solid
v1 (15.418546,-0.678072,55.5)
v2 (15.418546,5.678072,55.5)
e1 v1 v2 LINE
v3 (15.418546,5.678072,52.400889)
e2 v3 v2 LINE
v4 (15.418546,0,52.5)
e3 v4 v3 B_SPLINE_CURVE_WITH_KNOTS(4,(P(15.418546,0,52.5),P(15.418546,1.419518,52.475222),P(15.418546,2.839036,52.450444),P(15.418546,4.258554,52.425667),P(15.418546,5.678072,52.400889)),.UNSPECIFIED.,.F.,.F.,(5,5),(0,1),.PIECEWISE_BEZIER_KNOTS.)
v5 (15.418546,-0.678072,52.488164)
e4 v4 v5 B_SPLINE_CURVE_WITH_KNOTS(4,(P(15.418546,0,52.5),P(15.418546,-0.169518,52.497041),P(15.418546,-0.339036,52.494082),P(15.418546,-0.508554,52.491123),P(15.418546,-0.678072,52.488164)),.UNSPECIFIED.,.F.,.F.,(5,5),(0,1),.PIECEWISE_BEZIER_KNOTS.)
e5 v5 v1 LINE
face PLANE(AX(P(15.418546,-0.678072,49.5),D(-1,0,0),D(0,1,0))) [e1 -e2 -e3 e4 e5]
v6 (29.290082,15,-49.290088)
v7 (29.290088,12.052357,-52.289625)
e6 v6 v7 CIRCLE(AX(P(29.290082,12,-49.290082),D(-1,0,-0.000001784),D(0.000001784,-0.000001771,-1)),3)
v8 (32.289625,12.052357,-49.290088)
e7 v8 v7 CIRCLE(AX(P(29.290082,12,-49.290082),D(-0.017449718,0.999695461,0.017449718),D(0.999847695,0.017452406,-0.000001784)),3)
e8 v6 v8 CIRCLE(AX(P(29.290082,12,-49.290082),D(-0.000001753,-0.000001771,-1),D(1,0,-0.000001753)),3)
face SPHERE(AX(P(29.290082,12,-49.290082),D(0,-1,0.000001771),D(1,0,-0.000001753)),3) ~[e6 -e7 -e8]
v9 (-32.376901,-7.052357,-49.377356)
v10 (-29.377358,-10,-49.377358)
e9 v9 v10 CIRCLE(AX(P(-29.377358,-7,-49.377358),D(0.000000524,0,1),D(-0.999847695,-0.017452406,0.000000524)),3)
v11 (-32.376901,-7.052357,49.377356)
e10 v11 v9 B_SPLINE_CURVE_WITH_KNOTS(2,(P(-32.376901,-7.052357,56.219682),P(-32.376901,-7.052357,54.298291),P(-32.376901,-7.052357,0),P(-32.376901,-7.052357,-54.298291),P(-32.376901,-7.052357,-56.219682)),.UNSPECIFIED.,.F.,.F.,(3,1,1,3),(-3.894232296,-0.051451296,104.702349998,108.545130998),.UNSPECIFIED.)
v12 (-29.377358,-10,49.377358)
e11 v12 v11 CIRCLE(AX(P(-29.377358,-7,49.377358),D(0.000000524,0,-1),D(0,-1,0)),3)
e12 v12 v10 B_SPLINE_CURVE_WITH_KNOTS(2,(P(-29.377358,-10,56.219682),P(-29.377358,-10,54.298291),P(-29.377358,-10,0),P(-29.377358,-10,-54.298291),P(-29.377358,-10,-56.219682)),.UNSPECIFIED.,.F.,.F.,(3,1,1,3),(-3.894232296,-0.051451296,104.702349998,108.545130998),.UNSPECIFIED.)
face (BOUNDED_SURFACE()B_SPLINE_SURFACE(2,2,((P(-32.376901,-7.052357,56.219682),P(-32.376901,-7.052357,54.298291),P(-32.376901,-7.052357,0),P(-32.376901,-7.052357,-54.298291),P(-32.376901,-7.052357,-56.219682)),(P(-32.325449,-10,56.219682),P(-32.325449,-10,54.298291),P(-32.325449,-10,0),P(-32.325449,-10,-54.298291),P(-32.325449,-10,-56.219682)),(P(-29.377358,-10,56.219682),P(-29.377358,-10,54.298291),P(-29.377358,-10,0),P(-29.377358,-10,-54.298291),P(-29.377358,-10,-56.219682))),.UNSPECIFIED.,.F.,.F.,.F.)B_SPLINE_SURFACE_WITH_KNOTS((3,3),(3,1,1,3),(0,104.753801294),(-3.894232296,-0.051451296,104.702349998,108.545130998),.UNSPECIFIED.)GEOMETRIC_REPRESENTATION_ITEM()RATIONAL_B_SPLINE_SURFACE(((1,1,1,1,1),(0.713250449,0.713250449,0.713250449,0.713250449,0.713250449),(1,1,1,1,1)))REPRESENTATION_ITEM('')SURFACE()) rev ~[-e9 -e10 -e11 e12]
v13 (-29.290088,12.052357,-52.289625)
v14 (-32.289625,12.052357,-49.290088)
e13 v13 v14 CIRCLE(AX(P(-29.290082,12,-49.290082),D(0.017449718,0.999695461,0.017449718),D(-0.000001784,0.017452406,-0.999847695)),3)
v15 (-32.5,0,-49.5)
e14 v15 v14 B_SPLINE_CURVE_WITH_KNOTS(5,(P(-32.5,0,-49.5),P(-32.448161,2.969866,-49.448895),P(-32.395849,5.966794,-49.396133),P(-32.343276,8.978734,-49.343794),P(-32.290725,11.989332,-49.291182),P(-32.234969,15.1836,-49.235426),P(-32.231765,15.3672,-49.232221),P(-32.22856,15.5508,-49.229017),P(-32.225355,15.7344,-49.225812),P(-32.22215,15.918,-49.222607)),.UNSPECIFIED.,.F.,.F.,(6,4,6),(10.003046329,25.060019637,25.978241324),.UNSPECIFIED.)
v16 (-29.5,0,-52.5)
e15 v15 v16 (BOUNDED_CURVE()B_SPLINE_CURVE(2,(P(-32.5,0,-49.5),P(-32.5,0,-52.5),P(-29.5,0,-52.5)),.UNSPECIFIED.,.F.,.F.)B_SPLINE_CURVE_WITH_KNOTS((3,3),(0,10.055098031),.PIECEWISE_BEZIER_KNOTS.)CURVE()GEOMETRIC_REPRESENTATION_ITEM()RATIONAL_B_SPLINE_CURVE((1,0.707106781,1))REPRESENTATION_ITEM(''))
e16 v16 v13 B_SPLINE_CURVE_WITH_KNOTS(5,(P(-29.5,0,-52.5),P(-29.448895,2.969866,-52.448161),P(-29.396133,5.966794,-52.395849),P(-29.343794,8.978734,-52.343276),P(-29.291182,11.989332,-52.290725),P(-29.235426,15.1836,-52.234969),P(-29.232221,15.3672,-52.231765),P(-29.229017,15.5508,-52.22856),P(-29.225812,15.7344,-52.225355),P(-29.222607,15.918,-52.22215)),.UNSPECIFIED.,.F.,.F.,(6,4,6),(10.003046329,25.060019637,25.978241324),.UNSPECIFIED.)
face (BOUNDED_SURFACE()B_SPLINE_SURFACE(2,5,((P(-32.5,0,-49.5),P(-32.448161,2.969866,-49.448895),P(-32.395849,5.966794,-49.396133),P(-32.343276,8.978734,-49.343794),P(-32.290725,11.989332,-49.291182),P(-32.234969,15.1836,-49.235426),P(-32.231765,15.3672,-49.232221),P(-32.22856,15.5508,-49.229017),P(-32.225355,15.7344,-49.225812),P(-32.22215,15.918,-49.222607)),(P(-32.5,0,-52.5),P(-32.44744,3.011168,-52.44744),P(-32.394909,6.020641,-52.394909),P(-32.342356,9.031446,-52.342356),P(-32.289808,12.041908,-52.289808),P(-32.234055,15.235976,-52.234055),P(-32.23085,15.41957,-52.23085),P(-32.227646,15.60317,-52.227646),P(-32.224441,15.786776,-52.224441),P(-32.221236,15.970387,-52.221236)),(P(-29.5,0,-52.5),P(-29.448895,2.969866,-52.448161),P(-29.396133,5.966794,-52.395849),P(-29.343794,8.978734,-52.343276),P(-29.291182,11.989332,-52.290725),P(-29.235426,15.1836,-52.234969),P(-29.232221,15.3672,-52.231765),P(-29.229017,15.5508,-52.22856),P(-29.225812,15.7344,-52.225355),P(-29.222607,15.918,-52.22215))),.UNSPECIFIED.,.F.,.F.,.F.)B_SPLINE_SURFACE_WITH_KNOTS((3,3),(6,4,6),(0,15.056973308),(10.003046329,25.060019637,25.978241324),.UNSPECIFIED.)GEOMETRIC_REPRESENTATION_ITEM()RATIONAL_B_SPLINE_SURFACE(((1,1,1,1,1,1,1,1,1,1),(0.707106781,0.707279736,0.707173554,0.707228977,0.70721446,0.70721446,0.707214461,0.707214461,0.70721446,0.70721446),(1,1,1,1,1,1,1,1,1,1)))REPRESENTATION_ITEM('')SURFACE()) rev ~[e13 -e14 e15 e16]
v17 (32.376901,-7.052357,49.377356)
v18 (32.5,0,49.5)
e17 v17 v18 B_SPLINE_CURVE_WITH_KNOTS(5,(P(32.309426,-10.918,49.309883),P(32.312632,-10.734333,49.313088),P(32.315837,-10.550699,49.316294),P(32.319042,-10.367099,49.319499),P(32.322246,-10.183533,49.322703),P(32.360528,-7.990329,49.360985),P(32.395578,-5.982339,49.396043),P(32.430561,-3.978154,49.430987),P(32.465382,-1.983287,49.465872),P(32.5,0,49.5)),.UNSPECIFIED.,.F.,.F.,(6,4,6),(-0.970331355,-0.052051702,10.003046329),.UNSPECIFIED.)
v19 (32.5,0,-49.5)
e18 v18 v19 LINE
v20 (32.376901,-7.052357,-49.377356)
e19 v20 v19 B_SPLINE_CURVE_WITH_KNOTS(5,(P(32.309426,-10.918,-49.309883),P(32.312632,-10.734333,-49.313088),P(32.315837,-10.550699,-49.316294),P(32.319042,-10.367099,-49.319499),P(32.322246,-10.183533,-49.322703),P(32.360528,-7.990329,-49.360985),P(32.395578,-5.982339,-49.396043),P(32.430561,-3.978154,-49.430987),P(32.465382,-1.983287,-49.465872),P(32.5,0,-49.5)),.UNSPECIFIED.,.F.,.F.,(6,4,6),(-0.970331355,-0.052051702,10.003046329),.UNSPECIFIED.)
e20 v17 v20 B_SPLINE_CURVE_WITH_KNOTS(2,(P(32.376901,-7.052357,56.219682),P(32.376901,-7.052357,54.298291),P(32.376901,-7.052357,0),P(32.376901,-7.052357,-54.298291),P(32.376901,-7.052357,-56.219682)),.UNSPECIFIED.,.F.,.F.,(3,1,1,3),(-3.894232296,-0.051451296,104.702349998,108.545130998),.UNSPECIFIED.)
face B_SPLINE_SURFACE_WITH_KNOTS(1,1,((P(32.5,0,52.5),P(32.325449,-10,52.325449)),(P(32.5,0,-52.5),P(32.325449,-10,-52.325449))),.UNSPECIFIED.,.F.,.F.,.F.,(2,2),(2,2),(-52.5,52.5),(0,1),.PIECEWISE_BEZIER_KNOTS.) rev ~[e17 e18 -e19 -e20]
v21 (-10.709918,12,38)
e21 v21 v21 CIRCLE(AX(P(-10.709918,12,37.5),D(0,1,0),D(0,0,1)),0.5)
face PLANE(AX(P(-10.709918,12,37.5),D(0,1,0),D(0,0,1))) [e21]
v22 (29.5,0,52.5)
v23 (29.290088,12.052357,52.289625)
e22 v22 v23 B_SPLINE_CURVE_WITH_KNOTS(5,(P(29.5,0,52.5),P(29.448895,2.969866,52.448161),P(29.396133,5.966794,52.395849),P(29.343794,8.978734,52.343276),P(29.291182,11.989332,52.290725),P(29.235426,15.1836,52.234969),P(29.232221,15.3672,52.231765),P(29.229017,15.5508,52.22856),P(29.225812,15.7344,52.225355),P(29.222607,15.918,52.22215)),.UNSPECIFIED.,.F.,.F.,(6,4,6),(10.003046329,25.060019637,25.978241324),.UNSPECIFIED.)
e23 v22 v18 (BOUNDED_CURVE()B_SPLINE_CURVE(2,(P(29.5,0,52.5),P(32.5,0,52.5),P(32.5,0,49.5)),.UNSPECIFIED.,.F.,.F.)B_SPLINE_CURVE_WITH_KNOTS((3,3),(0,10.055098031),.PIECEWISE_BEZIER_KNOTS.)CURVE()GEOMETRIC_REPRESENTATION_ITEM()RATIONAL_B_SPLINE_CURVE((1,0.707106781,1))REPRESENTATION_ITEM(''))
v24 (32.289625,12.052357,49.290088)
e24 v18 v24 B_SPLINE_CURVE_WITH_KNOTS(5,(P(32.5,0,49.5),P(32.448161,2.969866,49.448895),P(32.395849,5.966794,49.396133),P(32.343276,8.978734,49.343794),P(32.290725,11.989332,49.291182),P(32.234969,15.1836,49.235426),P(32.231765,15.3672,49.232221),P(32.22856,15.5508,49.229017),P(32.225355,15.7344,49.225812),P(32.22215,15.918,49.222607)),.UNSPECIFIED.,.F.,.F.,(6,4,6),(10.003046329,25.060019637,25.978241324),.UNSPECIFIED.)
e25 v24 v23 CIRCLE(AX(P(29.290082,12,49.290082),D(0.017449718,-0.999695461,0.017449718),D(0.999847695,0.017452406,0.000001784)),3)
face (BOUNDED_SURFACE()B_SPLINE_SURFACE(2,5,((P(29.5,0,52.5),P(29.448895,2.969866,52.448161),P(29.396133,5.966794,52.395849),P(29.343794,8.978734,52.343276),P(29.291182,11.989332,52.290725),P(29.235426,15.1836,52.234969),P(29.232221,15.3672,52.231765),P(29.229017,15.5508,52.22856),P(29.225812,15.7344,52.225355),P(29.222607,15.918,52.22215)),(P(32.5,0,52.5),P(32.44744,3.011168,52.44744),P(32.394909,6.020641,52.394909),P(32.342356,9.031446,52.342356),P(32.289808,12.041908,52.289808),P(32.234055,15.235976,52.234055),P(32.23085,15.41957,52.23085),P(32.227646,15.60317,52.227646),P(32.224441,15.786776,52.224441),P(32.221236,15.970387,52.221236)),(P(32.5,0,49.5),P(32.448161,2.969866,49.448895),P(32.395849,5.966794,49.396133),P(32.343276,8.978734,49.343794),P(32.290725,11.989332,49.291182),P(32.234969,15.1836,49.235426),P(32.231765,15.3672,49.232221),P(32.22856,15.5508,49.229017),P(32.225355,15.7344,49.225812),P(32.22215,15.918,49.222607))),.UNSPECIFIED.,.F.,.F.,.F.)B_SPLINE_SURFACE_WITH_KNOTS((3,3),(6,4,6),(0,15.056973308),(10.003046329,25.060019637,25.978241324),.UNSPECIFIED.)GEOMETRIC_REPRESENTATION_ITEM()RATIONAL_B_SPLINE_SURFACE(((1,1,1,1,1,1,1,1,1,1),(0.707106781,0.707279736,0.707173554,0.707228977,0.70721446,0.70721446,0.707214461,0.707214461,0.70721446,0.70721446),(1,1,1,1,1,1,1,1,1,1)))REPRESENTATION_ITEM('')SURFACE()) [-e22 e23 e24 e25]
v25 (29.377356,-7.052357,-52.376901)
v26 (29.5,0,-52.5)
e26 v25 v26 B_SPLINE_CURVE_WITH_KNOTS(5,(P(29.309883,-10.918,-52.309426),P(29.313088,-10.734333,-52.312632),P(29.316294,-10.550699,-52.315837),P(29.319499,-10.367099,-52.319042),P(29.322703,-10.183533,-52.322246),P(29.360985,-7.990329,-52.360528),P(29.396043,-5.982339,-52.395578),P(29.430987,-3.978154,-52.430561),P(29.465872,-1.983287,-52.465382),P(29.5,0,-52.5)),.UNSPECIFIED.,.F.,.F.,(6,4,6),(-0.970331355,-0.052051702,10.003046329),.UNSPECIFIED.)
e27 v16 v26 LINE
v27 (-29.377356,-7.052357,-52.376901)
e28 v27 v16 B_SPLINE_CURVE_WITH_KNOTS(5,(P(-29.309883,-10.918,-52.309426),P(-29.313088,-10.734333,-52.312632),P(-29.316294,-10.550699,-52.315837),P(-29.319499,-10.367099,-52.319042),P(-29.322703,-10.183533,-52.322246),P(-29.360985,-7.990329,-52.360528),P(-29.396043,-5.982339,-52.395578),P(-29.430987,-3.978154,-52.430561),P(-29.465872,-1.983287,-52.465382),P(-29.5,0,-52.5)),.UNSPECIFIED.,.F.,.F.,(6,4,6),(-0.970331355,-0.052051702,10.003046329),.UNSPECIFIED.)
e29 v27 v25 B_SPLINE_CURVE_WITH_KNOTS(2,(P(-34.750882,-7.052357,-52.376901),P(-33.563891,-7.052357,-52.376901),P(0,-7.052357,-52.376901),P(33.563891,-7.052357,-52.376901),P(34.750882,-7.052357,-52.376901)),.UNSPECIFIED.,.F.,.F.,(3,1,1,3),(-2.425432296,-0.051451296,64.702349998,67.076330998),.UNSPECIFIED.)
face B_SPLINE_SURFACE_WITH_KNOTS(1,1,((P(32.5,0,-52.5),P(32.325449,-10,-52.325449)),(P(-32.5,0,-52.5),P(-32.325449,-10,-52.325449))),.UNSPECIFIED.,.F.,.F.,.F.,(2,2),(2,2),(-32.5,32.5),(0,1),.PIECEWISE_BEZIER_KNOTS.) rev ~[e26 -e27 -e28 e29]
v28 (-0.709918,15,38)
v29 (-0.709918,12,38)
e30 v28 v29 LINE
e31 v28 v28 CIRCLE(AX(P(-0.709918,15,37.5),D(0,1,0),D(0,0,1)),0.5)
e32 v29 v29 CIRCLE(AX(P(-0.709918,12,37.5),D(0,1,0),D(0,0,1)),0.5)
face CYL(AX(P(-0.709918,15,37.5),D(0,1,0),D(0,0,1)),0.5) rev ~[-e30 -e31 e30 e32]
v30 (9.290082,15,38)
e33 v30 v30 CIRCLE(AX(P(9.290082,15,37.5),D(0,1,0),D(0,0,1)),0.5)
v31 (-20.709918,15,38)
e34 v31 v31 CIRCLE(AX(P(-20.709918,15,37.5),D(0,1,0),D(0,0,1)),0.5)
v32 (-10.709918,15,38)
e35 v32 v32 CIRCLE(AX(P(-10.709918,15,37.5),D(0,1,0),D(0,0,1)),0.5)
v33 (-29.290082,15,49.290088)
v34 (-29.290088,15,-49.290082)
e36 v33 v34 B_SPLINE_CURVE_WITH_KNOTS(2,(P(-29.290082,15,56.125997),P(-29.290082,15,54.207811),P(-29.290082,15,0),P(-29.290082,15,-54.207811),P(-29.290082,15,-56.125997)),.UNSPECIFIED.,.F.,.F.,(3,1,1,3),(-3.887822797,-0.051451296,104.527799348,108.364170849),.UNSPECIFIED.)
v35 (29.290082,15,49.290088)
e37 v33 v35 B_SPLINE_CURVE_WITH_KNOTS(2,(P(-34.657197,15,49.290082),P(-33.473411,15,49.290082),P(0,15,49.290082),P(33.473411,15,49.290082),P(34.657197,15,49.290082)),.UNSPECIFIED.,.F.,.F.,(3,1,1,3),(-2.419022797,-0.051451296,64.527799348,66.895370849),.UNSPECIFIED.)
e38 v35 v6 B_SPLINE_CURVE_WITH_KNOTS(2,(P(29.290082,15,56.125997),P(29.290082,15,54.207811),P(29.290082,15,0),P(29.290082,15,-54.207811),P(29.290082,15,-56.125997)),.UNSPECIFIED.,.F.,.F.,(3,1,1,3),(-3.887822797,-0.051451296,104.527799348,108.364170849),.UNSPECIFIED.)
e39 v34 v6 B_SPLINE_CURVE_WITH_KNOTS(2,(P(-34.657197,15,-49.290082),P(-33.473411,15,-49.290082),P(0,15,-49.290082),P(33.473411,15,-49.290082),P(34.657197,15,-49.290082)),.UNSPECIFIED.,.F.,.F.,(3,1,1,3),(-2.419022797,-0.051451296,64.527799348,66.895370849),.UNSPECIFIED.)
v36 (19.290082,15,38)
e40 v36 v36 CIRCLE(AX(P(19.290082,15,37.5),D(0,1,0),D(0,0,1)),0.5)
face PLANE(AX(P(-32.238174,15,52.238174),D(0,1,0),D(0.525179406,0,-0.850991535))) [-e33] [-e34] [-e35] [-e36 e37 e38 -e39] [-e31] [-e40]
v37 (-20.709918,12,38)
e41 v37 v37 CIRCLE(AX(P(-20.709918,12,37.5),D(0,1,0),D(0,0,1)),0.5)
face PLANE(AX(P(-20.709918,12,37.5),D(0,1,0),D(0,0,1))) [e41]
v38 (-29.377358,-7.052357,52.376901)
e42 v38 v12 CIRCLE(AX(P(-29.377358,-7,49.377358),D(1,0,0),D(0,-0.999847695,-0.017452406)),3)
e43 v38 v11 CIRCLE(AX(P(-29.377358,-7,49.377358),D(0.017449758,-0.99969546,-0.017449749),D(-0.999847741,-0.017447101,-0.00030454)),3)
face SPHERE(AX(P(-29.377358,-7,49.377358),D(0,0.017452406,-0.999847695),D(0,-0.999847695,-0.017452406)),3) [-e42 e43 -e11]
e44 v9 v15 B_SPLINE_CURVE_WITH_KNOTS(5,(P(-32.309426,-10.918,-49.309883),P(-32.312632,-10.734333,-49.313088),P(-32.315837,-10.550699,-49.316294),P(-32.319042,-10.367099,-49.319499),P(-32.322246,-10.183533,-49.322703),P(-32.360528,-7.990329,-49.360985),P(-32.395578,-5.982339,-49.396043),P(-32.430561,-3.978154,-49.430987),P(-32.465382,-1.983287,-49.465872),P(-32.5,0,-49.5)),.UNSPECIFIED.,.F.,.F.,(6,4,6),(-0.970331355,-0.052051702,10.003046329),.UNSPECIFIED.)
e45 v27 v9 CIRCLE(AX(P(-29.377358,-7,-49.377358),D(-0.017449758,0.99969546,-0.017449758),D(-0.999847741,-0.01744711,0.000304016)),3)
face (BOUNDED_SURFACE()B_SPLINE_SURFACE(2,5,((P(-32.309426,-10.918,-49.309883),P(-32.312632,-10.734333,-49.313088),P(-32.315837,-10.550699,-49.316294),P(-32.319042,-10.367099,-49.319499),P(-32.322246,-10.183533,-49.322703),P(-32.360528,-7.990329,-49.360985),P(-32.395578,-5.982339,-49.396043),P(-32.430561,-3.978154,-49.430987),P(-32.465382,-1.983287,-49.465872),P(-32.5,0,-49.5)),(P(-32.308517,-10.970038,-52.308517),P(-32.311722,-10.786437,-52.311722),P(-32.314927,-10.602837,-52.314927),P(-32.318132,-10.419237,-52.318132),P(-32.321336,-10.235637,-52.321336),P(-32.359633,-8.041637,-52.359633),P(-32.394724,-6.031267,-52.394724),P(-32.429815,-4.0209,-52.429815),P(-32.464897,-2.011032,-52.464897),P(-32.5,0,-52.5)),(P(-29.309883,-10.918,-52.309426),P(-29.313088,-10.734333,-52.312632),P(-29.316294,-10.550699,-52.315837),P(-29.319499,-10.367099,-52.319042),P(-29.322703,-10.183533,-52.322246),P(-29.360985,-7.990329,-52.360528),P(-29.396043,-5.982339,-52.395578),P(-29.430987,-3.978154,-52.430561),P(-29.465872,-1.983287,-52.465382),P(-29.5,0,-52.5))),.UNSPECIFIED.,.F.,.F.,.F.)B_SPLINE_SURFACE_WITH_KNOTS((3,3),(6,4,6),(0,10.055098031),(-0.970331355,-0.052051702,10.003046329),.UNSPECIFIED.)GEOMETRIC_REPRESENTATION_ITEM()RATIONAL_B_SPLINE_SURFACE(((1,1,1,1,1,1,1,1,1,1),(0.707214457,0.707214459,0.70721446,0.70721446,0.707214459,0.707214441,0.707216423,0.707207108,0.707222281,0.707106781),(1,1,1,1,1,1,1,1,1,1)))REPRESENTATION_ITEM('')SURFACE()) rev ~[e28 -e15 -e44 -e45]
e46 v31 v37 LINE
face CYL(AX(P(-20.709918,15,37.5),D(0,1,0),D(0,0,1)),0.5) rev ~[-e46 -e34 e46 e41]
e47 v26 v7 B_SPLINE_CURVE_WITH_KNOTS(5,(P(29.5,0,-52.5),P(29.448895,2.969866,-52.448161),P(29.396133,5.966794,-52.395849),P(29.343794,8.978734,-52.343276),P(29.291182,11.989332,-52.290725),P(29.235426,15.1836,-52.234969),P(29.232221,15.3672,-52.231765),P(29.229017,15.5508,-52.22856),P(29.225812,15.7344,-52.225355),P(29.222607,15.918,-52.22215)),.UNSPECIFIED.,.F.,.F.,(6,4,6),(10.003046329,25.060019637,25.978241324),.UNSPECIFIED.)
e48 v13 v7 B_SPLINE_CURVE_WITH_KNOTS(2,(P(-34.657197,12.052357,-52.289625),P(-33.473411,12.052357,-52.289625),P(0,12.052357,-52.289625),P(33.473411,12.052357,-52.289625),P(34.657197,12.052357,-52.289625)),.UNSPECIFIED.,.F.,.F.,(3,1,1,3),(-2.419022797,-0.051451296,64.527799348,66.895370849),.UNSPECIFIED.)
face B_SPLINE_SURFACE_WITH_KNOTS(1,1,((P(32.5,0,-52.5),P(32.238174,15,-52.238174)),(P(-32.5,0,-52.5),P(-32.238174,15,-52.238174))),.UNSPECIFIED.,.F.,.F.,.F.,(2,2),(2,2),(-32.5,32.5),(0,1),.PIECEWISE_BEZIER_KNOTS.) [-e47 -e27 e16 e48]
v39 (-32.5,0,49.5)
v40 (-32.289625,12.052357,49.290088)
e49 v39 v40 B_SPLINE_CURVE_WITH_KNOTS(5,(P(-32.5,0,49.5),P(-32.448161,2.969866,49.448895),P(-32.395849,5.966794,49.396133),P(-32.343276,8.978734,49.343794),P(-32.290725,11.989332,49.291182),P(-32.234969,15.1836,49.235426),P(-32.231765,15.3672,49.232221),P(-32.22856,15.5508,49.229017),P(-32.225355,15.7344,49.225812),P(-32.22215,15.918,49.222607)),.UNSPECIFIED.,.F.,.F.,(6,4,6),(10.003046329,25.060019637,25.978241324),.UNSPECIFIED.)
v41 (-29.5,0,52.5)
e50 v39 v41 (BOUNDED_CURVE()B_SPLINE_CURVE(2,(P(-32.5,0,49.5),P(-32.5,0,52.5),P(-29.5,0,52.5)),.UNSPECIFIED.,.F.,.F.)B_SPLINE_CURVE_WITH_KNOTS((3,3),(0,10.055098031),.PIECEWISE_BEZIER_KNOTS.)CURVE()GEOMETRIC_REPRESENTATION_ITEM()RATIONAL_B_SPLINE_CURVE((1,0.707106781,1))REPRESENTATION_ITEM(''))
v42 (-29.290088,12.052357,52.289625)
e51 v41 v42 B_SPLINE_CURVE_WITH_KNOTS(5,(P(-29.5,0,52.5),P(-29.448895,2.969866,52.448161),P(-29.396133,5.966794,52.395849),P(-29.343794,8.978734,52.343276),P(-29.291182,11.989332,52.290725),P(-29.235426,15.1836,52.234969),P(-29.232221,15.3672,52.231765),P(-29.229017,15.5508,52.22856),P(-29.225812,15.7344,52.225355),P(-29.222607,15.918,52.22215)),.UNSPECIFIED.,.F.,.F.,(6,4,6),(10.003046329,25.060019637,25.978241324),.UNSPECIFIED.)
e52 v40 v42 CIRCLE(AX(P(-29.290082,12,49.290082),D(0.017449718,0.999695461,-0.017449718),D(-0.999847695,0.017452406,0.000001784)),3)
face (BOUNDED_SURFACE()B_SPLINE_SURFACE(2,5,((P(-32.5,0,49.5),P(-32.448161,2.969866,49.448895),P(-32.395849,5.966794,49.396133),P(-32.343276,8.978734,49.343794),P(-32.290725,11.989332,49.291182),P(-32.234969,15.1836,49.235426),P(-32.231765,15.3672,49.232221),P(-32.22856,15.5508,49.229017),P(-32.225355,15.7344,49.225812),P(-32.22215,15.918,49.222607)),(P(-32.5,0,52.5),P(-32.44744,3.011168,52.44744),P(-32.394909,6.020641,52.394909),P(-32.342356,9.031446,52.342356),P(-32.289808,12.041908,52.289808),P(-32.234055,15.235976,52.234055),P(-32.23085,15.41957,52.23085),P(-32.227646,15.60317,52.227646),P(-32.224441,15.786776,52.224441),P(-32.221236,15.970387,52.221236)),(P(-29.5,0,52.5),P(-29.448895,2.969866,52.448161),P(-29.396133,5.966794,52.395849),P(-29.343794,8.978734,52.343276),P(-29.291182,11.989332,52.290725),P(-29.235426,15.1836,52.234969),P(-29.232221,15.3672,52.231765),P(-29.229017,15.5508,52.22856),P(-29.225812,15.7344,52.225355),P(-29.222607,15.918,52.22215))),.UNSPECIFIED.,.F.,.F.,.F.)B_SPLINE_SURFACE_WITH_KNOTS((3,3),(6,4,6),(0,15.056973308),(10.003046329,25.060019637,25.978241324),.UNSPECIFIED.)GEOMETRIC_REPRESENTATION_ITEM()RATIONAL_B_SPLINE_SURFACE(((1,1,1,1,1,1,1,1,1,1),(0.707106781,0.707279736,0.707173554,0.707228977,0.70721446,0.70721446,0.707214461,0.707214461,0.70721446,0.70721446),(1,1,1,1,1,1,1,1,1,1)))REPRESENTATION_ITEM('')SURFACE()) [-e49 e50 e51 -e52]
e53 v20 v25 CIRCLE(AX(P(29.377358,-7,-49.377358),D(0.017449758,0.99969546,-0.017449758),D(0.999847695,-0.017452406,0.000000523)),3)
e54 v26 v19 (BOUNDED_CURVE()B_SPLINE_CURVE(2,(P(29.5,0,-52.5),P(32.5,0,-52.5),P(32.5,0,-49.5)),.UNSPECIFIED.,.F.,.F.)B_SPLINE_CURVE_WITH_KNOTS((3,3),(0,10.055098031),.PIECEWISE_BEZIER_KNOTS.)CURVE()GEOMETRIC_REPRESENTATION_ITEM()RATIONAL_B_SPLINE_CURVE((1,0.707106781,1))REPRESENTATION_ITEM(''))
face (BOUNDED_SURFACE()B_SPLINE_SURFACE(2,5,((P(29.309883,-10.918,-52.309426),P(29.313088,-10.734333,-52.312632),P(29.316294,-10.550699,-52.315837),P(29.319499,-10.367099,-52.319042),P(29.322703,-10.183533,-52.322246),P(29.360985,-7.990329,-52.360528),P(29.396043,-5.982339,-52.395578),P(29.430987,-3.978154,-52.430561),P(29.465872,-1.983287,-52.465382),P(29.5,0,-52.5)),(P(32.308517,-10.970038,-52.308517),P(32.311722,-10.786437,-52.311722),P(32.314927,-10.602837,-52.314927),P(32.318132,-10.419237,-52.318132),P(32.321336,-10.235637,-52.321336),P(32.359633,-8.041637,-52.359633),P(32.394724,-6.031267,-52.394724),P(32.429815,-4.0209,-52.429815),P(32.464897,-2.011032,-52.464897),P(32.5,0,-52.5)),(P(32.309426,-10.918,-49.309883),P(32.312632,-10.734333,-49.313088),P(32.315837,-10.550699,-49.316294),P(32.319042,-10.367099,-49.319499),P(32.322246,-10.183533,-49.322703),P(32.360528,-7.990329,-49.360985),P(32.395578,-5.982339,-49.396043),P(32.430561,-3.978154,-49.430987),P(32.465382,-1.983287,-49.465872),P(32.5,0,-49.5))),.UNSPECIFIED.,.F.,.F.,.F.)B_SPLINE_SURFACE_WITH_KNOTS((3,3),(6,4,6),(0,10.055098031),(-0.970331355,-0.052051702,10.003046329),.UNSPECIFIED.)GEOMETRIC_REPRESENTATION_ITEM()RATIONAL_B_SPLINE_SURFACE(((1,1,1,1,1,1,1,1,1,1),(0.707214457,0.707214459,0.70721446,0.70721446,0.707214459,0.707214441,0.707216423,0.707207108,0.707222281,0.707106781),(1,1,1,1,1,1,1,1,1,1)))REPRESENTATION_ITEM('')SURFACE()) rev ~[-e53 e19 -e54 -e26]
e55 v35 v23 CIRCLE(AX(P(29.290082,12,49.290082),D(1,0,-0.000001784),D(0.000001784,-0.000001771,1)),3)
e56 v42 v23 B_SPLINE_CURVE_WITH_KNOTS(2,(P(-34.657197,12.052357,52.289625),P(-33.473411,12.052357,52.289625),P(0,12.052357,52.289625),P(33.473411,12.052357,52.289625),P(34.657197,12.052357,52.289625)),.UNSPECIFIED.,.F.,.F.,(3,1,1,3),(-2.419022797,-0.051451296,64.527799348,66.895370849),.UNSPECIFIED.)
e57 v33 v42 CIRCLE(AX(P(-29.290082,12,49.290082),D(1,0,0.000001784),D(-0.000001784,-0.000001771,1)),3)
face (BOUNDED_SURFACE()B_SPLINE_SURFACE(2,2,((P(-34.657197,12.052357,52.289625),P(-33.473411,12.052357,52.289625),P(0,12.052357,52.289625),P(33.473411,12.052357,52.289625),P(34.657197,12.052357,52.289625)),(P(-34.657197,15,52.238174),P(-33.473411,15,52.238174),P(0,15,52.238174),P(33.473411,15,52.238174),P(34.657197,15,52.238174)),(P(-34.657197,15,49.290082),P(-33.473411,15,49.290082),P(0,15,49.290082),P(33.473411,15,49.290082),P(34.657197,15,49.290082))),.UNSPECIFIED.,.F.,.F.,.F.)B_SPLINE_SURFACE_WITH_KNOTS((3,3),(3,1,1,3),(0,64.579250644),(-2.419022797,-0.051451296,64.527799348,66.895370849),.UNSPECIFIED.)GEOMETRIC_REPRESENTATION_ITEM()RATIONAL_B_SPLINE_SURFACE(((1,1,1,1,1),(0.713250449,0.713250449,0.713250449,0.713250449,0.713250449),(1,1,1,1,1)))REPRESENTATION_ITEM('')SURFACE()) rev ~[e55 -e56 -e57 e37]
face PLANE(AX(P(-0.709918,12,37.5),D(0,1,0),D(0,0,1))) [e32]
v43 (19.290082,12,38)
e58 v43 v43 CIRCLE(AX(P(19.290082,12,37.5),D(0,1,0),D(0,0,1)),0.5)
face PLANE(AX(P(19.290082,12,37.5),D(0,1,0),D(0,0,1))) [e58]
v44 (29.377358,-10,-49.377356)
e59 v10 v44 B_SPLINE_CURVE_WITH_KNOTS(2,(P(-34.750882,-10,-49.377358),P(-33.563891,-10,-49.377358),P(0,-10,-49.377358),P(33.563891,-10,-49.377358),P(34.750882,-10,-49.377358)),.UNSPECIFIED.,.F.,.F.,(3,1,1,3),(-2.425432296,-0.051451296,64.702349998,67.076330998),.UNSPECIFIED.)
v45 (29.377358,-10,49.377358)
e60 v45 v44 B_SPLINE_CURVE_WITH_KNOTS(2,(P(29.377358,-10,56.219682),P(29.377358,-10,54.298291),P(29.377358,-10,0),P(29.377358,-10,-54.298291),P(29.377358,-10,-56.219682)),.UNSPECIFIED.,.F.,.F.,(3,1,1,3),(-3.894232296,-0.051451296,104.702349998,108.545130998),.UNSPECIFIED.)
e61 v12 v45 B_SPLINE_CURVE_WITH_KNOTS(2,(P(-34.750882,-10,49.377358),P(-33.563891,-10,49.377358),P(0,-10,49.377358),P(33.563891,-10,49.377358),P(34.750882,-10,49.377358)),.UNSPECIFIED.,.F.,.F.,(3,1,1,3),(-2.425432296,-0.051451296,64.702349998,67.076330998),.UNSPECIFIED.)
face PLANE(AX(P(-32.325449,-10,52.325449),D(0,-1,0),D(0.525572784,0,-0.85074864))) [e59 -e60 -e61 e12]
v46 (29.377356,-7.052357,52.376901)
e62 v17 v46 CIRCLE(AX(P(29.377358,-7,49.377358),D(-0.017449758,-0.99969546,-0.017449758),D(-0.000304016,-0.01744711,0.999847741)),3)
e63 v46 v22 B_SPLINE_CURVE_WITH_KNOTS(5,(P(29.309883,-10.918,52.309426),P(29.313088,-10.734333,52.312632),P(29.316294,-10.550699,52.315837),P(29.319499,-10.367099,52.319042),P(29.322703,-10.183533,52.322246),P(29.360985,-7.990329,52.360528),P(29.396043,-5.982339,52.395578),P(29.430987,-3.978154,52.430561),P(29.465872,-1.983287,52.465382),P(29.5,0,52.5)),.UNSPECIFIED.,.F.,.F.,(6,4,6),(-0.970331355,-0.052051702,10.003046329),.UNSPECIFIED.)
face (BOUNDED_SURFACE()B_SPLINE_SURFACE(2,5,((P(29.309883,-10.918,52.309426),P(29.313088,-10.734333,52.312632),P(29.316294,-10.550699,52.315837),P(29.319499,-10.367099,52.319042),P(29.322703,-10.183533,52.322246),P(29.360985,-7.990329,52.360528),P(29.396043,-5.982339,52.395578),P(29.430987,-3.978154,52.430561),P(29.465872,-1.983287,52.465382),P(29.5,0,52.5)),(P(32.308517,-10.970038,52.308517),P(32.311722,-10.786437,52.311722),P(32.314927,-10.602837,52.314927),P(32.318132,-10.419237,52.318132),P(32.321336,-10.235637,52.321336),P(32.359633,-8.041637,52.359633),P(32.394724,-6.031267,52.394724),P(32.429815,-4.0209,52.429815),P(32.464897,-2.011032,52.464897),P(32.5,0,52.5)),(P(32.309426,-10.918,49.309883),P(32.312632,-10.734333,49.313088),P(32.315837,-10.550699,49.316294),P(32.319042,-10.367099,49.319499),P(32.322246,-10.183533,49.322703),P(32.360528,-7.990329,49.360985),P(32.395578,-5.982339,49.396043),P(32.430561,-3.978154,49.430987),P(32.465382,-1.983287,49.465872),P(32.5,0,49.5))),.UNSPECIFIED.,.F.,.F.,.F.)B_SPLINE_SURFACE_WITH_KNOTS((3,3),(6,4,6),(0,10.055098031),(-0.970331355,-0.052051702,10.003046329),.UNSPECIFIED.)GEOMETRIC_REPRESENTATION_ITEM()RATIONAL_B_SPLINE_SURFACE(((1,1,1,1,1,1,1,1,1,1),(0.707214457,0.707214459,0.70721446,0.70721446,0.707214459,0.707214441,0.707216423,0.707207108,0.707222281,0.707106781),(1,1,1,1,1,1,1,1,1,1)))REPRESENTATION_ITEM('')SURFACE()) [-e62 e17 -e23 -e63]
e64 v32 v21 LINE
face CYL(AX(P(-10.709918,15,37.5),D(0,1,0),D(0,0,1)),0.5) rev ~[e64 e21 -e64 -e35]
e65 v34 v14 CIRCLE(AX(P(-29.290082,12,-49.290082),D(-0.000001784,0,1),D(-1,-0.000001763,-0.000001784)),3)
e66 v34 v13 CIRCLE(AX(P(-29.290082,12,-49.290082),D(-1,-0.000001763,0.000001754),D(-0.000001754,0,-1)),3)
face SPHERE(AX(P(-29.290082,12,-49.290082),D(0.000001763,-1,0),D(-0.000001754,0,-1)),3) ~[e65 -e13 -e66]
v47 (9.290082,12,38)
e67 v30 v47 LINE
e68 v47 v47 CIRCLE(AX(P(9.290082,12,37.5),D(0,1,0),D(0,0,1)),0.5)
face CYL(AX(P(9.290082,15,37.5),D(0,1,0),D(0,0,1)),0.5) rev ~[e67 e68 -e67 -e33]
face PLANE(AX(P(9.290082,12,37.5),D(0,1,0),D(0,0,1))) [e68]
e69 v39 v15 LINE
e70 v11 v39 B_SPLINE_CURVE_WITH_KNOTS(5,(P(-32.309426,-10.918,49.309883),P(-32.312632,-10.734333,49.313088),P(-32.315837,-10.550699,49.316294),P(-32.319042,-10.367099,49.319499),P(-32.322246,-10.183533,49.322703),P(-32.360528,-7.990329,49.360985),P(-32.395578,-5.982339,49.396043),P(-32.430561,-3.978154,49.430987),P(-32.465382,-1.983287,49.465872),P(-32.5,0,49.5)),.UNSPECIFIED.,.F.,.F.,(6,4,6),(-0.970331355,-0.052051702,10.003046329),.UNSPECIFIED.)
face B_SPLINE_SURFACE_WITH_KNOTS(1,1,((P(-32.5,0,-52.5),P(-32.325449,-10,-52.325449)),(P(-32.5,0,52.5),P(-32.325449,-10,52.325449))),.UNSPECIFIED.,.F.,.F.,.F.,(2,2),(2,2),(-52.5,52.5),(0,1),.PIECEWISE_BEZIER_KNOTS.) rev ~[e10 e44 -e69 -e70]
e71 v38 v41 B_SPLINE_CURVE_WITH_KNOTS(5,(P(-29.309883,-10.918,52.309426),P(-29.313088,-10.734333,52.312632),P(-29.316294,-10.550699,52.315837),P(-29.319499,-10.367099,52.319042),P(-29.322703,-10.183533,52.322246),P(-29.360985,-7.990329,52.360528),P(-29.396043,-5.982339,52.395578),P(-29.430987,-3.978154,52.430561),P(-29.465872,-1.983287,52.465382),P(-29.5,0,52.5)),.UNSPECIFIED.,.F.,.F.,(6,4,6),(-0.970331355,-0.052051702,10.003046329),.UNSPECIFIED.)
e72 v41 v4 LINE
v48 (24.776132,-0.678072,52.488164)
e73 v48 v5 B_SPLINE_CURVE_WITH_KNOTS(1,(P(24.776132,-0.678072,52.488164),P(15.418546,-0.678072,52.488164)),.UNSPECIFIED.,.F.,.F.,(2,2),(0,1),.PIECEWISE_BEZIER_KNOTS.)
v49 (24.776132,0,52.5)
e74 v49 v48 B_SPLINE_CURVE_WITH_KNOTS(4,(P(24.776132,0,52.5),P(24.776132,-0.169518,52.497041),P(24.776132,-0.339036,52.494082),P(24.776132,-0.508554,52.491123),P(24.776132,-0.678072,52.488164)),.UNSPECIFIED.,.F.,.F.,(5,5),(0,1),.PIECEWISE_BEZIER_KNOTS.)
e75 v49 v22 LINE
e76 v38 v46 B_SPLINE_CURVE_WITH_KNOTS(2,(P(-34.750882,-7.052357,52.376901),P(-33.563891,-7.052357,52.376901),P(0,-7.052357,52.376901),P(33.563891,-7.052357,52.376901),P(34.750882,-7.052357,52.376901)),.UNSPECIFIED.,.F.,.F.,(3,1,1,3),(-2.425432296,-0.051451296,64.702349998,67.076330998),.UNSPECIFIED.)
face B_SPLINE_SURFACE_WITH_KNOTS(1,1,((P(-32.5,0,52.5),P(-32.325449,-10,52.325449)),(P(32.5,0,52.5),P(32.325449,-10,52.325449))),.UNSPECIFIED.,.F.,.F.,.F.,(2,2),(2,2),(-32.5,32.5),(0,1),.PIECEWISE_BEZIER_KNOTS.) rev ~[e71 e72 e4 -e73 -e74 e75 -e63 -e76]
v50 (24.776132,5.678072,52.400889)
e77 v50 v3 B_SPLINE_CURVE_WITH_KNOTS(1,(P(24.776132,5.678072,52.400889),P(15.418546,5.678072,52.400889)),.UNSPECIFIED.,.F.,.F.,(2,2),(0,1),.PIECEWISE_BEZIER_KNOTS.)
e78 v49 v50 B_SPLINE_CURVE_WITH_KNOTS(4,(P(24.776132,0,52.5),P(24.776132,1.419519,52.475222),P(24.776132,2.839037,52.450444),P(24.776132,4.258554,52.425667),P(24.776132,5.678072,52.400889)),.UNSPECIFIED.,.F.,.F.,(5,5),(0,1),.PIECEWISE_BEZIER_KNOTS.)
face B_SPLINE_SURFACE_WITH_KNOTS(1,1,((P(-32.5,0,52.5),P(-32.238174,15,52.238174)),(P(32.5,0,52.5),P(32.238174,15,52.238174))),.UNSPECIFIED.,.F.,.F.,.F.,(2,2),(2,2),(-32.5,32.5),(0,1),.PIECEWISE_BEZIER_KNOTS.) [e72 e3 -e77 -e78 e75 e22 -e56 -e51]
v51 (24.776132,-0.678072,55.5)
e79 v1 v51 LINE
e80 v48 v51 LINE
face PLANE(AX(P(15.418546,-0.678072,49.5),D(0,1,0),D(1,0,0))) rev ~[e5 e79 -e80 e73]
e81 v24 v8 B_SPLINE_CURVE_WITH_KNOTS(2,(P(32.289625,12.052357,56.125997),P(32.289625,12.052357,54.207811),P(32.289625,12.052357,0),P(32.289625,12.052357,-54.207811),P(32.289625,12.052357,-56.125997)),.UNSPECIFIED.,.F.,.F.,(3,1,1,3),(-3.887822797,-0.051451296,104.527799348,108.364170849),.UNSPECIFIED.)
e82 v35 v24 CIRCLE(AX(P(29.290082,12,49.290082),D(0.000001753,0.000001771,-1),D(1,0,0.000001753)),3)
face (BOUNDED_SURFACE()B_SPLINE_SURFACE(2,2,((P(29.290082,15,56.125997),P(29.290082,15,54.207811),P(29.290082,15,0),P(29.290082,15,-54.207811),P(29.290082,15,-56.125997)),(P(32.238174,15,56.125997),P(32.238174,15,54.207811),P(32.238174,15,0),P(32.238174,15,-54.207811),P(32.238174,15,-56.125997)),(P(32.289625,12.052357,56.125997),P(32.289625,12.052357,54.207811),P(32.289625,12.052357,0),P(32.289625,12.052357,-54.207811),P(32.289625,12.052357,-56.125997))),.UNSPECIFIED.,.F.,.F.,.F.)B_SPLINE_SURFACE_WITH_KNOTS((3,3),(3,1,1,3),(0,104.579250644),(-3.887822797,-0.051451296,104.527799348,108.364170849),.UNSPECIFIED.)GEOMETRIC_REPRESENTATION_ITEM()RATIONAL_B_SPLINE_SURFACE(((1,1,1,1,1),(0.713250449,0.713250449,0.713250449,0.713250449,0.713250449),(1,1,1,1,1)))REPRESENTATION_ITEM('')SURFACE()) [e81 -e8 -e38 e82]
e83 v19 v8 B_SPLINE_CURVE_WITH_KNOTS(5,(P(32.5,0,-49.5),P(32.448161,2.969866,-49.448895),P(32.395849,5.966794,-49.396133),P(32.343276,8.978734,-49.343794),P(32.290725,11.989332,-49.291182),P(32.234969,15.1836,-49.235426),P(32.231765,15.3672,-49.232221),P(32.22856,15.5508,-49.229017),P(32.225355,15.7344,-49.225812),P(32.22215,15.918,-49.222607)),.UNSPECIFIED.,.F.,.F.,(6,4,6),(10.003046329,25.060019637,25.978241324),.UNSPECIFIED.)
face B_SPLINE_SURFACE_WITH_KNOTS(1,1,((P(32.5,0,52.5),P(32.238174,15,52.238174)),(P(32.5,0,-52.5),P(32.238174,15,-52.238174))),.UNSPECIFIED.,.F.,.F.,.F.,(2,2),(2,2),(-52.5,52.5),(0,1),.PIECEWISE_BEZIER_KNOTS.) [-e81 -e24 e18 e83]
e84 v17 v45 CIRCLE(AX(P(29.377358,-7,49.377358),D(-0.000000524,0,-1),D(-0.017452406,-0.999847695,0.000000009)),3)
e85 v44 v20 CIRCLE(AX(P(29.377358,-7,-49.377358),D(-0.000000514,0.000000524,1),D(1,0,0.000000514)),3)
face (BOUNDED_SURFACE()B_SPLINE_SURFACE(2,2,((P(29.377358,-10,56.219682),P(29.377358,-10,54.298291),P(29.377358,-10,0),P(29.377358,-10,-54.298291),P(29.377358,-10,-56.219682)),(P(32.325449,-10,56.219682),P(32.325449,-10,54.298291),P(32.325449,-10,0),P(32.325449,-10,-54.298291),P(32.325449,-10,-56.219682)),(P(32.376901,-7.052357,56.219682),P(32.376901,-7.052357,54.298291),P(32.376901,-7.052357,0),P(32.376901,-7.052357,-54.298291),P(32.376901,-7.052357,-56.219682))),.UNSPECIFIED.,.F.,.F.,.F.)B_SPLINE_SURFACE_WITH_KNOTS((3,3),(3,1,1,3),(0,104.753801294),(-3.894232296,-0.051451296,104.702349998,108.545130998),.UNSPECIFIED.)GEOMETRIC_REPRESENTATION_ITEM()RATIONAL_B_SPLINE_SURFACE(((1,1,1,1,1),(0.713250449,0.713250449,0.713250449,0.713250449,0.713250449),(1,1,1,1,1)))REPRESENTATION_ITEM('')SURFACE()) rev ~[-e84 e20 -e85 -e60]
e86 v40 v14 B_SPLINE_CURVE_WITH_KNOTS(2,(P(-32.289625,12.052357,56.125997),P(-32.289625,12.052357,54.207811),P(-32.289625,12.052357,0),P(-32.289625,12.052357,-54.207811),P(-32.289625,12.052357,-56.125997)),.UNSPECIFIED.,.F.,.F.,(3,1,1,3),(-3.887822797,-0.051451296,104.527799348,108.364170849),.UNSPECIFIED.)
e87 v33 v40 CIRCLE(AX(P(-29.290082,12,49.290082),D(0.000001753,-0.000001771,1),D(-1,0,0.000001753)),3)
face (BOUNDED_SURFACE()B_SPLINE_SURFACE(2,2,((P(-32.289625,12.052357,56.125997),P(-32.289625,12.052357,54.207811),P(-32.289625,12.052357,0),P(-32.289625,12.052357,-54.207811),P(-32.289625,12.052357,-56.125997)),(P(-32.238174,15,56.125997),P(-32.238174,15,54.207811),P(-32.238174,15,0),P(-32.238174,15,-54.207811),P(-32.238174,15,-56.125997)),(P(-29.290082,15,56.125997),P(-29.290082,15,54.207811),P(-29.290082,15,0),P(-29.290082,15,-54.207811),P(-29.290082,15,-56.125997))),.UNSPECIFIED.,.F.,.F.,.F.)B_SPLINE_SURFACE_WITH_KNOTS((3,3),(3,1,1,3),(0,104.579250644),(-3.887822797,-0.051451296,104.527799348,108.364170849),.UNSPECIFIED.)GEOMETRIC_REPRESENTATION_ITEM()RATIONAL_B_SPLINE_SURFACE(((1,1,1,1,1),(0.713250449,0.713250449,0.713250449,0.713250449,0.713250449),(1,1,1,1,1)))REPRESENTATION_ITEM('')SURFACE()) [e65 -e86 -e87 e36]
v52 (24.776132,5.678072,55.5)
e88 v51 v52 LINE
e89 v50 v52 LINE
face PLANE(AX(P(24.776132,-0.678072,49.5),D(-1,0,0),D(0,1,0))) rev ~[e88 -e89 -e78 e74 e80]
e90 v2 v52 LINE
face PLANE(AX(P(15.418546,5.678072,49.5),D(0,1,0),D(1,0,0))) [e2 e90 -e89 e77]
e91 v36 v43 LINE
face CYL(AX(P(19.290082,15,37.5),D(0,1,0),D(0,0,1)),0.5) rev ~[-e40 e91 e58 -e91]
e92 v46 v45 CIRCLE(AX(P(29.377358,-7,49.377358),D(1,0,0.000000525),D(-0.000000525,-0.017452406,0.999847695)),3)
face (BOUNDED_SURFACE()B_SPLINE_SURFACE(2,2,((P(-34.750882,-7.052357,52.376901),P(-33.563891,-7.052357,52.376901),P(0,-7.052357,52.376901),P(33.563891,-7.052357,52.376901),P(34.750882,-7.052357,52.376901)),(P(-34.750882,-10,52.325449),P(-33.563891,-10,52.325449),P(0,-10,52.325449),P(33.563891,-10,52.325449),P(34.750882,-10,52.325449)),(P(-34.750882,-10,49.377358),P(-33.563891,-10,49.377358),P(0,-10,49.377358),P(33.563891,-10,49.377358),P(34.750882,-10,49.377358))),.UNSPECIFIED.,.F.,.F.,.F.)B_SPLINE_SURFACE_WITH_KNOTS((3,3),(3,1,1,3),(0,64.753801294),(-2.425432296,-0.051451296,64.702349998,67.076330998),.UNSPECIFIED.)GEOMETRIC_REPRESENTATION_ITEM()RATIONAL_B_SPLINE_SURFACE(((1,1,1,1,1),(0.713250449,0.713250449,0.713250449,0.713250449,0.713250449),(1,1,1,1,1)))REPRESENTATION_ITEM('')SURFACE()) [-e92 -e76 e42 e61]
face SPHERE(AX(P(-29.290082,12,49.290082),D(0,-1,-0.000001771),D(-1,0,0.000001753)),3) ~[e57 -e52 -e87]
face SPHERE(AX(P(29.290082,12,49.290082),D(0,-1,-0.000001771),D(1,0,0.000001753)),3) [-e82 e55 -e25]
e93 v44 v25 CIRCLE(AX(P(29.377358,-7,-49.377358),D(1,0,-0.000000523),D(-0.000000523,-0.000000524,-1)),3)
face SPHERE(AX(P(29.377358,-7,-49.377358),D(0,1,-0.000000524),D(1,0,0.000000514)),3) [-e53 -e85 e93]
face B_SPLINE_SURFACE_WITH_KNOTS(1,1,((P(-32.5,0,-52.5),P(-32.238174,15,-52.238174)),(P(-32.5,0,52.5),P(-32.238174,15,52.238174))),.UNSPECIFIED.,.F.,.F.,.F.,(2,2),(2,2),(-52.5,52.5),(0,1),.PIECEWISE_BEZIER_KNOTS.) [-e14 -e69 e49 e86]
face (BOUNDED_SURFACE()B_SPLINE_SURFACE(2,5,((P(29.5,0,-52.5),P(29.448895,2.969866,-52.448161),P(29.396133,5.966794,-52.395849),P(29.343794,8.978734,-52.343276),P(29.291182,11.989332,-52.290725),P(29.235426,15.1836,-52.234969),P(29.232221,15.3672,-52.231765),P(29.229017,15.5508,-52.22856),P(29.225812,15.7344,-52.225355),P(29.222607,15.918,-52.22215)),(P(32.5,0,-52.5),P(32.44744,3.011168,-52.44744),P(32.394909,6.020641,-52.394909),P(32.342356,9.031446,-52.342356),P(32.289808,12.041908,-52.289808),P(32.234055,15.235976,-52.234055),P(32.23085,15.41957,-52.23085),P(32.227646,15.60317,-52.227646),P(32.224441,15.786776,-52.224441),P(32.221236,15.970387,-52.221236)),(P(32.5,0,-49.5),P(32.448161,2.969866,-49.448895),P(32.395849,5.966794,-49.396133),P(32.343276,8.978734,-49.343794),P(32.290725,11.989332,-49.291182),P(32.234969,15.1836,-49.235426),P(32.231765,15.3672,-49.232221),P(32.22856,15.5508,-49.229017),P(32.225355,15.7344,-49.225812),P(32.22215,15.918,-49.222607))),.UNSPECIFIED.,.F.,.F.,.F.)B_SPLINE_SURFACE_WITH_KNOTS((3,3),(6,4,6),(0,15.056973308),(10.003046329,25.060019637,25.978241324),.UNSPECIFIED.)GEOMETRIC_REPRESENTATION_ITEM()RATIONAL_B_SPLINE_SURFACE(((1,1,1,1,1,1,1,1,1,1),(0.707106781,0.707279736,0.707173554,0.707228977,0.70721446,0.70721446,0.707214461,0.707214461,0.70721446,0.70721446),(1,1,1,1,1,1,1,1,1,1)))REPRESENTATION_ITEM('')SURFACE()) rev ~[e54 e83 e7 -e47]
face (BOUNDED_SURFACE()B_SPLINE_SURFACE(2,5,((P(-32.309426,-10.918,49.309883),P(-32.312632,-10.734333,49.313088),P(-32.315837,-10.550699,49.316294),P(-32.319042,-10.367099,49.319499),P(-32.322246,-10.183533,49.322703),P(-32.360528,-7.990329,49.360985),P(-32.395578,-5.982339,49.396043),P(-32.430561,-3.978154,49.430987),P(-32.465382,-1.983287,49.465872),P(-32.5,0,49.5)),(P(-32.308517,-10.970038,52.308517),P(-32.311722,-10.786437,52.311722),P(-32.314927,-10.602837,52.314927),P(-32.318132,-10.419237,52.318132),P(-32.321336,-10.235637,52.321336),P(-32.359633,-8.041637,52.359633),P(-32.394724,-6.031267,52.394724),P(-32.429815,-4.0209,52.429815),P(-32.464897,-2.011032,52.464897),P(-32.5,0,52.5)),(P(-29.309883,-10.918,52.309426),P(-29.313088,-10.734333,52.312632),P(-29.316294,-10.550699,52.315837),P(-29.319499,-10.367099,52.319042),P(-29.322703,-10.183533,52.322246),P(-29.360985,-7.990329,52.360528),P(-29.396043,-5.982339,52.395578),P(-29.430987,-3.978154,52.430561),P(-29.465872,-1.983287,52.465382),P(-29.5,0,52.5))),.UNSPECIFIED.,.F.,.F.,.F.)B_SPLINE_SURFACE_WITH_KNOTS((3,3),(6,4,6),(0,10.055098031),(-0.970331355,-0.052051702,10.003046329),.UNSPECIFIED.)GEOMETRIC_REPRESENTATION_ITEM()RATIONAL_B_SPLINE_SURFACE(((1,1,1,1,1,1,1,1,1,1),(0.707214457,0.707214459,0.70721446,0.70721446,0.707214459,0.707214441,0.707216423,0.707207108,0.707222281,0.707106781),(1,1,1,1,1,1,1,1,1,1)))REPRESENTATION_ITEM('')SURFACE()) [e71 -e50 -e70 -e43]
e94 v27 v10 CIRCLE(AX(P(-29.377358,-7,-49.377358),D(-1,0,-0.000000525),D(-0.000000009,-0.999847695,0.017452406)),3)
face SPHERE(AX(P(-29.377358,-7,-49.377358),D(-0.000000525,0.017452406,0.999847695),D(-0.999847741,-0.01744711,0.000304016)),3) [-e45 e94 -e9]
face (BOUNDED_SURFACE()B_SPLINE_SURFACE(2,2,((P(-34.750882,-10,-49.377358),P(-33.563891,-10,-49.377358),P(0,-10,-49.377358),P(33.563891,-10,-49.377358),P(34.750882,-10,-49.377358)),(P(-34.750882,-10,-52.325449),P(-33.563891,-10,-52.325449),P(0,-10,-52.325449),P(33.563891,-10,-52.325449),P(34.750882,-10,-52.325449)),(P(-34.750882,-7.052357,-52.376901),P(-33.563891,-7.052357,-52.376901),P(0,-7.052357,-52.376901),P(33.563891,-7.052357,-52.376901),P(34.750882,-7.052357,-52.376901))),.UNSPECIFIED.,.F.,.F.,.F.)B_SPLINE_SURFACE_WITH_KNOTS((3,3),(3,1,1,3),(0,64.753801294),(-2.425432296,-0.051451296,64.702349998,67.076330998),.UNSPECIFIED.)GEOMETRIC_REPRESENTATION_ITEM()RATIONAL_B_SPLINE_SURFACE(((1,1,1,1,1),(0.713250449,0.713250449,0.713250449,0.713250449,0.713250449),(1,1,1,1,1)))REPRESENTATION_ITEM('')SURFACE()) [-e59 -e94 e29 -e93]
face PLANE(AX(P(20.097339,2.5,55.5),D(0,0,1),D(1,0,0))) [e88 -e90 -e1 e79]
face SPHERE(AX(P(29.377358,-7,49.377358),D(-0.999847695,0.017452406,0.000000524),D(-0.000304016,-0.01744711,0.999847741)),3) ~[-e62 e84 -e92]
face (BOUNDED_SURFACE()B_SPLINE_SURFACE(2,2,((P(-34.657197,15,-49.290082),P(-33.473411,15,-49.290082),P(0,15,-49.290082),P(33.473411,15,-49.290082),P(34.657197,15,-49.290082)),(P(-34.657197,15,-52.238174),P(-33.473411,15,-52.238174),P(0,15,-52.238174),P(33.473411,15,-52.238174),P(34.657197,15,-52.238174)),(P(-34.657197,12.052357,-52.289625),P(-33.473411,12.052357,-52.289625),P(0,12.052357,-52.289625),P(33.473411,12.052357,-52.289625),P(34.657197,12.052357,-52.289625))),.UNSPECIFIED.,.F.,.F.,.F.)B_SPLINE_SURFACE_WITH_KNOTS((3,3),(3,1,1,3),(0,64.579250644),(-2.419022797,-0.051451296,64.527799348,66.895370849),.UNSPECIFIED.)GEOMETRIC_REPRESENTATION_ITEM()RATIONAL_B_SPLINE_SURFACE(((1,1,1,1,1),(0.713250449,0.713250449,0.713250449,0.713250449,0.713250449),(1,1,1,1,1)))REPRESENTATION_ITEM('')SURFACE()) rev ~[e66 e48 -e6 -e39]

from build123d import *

# Parameters (mm, degrees)
SKETCH1_W                     = 65
SKETCH1_H                     = 105
BOSS_EXTRUDE1_DEPTH           = 15
BOSS_EXTRUDE1_TAPER           = 1
BOSS_EXTRUDE1_OTHER_WAY_DEPTH = 10
BOSS_EXTRUDE1_OTHER_WAY_TAPER = 1
FILLET1_R                     = 3
BOSS_EXTRUDE2_DEPTH           = 3
BOSS_EXTRUDE2_DEPTH_BACK      = 3
BOSS_EXTRUDE2_START           = 52.5
SKETCH3_W                     = 9.357586106
SKETCH3_H                     = 6.356143016
SKETCH5_R                     = 0.5
CUT_EXTRUDE1_DEPTH            = 3


with BuildPart() as part:
    # Sketch1 → Boss-Extrude1 (new body)
    with BuildSketch(Plane(origin=(0, 0, 0), x_dir=(1, 0, 0), z_dir=(0, 1, 0))):
        Rectangle(SKETCH1_W, SKETCH1_H)
    extrude(amount=BOSS_EXTRUDE1_DEPTH, taper=BOSS_EXTRUDE1_TAPER)

    # Sketch1 → Boss-Extrude1 other way (add)
    with BuildSketch(Plane(origin=(0, 0, 0), x_dir=(1, 0, 0), z_dir=(0, 1, 0))):
        Rectangle(SKETCH1_W, SKETCH1_H)
    extrude(amount=-BOSS_EXTRUDE1_OTHER_WAY_DEPTH, taper=BOSS_EXTRUDE1_OTHER_WAY_TAPER)

    # Fillet1
    fillet1_edges = [part.edges().sort_by_distance(p)[0] for p in [
        (-32.325449351, -10, 0),
        (0, -10, 52.325449351),
        (32.369087013, 7.5, 52.369087013),
        (32.369087013, 7.5, -52.369087013),
        (-32.369087013, 7.5, -52.369087013),
        (-32.369087013, 7.5, 52.369087013),
        (32.238174026, 15, 0),
        (0, 15, -52.238174026),
        (-32.238174026, 15, 0),
        (0, 15, 52.238174026),
        (32.325449351, -10, 0),
        (0, -10, -52.325449351),
        (32.412724675, -5, 52.412724675),
        (-32.412724675, -5, 52.412724675),
        (-32.412724675, -5, -52.412724675),
        (32.412724675, -5, -52.412724675),
    ]]
    fillet(fillet1_edges, radius=FILLET1_R)

    # Sketch3 → Boss-Extrude2 (add, two sides: drawn at the far end of the back side and taken through both)
    with BuildSketch(Plane.XY.offset(BOSS_EXTRUDE2_START - BOSS_EXTRUDE2_DEPTH_BACK)):
        with Locations((20.097339375, 2.5)):
            Rectangle(SKETCH3_W, SKETCH3_H)
    extrude(amount=BOSS_EXTRUDE2_DEPTH + BOSS_EXTRUDE2_DEPTH_BACK)

    # Sketch5 → Cut-Extrude1 (cut)
    with BuildSketch(Plane(origin=(0, 15, 0), x_dir=(1, 0, 0), z_dir=(0, 1, 0))):
        with Locations(Location((19.290082237, -37.5, 0), (0, 0, 270))):
            Circle(SKETCH5_R)
        with Locations(Location((9.290082237, -37.5, 0), (0, 0, 270))):
            Circle(SKETCH5_R)
        with Locations(Location((-0.709917763, -37.5, 0), (0, 0, 270))):
            Circle(SKETCH5_R)
        with Locations(Location((-10.709917763, -37.5, 0), (0, 0, 270))):
            Circle(SKETCH5_R)
        with Locations(Location((-20.709917763, -37.5, 0), (0, 0, 270))):
            Circle(SKETCH5_R)
    extrude(amount=-CUT_EXTRUDE1_DEPTH, mode=Mode.SUBTRACT)


solid = part.part
